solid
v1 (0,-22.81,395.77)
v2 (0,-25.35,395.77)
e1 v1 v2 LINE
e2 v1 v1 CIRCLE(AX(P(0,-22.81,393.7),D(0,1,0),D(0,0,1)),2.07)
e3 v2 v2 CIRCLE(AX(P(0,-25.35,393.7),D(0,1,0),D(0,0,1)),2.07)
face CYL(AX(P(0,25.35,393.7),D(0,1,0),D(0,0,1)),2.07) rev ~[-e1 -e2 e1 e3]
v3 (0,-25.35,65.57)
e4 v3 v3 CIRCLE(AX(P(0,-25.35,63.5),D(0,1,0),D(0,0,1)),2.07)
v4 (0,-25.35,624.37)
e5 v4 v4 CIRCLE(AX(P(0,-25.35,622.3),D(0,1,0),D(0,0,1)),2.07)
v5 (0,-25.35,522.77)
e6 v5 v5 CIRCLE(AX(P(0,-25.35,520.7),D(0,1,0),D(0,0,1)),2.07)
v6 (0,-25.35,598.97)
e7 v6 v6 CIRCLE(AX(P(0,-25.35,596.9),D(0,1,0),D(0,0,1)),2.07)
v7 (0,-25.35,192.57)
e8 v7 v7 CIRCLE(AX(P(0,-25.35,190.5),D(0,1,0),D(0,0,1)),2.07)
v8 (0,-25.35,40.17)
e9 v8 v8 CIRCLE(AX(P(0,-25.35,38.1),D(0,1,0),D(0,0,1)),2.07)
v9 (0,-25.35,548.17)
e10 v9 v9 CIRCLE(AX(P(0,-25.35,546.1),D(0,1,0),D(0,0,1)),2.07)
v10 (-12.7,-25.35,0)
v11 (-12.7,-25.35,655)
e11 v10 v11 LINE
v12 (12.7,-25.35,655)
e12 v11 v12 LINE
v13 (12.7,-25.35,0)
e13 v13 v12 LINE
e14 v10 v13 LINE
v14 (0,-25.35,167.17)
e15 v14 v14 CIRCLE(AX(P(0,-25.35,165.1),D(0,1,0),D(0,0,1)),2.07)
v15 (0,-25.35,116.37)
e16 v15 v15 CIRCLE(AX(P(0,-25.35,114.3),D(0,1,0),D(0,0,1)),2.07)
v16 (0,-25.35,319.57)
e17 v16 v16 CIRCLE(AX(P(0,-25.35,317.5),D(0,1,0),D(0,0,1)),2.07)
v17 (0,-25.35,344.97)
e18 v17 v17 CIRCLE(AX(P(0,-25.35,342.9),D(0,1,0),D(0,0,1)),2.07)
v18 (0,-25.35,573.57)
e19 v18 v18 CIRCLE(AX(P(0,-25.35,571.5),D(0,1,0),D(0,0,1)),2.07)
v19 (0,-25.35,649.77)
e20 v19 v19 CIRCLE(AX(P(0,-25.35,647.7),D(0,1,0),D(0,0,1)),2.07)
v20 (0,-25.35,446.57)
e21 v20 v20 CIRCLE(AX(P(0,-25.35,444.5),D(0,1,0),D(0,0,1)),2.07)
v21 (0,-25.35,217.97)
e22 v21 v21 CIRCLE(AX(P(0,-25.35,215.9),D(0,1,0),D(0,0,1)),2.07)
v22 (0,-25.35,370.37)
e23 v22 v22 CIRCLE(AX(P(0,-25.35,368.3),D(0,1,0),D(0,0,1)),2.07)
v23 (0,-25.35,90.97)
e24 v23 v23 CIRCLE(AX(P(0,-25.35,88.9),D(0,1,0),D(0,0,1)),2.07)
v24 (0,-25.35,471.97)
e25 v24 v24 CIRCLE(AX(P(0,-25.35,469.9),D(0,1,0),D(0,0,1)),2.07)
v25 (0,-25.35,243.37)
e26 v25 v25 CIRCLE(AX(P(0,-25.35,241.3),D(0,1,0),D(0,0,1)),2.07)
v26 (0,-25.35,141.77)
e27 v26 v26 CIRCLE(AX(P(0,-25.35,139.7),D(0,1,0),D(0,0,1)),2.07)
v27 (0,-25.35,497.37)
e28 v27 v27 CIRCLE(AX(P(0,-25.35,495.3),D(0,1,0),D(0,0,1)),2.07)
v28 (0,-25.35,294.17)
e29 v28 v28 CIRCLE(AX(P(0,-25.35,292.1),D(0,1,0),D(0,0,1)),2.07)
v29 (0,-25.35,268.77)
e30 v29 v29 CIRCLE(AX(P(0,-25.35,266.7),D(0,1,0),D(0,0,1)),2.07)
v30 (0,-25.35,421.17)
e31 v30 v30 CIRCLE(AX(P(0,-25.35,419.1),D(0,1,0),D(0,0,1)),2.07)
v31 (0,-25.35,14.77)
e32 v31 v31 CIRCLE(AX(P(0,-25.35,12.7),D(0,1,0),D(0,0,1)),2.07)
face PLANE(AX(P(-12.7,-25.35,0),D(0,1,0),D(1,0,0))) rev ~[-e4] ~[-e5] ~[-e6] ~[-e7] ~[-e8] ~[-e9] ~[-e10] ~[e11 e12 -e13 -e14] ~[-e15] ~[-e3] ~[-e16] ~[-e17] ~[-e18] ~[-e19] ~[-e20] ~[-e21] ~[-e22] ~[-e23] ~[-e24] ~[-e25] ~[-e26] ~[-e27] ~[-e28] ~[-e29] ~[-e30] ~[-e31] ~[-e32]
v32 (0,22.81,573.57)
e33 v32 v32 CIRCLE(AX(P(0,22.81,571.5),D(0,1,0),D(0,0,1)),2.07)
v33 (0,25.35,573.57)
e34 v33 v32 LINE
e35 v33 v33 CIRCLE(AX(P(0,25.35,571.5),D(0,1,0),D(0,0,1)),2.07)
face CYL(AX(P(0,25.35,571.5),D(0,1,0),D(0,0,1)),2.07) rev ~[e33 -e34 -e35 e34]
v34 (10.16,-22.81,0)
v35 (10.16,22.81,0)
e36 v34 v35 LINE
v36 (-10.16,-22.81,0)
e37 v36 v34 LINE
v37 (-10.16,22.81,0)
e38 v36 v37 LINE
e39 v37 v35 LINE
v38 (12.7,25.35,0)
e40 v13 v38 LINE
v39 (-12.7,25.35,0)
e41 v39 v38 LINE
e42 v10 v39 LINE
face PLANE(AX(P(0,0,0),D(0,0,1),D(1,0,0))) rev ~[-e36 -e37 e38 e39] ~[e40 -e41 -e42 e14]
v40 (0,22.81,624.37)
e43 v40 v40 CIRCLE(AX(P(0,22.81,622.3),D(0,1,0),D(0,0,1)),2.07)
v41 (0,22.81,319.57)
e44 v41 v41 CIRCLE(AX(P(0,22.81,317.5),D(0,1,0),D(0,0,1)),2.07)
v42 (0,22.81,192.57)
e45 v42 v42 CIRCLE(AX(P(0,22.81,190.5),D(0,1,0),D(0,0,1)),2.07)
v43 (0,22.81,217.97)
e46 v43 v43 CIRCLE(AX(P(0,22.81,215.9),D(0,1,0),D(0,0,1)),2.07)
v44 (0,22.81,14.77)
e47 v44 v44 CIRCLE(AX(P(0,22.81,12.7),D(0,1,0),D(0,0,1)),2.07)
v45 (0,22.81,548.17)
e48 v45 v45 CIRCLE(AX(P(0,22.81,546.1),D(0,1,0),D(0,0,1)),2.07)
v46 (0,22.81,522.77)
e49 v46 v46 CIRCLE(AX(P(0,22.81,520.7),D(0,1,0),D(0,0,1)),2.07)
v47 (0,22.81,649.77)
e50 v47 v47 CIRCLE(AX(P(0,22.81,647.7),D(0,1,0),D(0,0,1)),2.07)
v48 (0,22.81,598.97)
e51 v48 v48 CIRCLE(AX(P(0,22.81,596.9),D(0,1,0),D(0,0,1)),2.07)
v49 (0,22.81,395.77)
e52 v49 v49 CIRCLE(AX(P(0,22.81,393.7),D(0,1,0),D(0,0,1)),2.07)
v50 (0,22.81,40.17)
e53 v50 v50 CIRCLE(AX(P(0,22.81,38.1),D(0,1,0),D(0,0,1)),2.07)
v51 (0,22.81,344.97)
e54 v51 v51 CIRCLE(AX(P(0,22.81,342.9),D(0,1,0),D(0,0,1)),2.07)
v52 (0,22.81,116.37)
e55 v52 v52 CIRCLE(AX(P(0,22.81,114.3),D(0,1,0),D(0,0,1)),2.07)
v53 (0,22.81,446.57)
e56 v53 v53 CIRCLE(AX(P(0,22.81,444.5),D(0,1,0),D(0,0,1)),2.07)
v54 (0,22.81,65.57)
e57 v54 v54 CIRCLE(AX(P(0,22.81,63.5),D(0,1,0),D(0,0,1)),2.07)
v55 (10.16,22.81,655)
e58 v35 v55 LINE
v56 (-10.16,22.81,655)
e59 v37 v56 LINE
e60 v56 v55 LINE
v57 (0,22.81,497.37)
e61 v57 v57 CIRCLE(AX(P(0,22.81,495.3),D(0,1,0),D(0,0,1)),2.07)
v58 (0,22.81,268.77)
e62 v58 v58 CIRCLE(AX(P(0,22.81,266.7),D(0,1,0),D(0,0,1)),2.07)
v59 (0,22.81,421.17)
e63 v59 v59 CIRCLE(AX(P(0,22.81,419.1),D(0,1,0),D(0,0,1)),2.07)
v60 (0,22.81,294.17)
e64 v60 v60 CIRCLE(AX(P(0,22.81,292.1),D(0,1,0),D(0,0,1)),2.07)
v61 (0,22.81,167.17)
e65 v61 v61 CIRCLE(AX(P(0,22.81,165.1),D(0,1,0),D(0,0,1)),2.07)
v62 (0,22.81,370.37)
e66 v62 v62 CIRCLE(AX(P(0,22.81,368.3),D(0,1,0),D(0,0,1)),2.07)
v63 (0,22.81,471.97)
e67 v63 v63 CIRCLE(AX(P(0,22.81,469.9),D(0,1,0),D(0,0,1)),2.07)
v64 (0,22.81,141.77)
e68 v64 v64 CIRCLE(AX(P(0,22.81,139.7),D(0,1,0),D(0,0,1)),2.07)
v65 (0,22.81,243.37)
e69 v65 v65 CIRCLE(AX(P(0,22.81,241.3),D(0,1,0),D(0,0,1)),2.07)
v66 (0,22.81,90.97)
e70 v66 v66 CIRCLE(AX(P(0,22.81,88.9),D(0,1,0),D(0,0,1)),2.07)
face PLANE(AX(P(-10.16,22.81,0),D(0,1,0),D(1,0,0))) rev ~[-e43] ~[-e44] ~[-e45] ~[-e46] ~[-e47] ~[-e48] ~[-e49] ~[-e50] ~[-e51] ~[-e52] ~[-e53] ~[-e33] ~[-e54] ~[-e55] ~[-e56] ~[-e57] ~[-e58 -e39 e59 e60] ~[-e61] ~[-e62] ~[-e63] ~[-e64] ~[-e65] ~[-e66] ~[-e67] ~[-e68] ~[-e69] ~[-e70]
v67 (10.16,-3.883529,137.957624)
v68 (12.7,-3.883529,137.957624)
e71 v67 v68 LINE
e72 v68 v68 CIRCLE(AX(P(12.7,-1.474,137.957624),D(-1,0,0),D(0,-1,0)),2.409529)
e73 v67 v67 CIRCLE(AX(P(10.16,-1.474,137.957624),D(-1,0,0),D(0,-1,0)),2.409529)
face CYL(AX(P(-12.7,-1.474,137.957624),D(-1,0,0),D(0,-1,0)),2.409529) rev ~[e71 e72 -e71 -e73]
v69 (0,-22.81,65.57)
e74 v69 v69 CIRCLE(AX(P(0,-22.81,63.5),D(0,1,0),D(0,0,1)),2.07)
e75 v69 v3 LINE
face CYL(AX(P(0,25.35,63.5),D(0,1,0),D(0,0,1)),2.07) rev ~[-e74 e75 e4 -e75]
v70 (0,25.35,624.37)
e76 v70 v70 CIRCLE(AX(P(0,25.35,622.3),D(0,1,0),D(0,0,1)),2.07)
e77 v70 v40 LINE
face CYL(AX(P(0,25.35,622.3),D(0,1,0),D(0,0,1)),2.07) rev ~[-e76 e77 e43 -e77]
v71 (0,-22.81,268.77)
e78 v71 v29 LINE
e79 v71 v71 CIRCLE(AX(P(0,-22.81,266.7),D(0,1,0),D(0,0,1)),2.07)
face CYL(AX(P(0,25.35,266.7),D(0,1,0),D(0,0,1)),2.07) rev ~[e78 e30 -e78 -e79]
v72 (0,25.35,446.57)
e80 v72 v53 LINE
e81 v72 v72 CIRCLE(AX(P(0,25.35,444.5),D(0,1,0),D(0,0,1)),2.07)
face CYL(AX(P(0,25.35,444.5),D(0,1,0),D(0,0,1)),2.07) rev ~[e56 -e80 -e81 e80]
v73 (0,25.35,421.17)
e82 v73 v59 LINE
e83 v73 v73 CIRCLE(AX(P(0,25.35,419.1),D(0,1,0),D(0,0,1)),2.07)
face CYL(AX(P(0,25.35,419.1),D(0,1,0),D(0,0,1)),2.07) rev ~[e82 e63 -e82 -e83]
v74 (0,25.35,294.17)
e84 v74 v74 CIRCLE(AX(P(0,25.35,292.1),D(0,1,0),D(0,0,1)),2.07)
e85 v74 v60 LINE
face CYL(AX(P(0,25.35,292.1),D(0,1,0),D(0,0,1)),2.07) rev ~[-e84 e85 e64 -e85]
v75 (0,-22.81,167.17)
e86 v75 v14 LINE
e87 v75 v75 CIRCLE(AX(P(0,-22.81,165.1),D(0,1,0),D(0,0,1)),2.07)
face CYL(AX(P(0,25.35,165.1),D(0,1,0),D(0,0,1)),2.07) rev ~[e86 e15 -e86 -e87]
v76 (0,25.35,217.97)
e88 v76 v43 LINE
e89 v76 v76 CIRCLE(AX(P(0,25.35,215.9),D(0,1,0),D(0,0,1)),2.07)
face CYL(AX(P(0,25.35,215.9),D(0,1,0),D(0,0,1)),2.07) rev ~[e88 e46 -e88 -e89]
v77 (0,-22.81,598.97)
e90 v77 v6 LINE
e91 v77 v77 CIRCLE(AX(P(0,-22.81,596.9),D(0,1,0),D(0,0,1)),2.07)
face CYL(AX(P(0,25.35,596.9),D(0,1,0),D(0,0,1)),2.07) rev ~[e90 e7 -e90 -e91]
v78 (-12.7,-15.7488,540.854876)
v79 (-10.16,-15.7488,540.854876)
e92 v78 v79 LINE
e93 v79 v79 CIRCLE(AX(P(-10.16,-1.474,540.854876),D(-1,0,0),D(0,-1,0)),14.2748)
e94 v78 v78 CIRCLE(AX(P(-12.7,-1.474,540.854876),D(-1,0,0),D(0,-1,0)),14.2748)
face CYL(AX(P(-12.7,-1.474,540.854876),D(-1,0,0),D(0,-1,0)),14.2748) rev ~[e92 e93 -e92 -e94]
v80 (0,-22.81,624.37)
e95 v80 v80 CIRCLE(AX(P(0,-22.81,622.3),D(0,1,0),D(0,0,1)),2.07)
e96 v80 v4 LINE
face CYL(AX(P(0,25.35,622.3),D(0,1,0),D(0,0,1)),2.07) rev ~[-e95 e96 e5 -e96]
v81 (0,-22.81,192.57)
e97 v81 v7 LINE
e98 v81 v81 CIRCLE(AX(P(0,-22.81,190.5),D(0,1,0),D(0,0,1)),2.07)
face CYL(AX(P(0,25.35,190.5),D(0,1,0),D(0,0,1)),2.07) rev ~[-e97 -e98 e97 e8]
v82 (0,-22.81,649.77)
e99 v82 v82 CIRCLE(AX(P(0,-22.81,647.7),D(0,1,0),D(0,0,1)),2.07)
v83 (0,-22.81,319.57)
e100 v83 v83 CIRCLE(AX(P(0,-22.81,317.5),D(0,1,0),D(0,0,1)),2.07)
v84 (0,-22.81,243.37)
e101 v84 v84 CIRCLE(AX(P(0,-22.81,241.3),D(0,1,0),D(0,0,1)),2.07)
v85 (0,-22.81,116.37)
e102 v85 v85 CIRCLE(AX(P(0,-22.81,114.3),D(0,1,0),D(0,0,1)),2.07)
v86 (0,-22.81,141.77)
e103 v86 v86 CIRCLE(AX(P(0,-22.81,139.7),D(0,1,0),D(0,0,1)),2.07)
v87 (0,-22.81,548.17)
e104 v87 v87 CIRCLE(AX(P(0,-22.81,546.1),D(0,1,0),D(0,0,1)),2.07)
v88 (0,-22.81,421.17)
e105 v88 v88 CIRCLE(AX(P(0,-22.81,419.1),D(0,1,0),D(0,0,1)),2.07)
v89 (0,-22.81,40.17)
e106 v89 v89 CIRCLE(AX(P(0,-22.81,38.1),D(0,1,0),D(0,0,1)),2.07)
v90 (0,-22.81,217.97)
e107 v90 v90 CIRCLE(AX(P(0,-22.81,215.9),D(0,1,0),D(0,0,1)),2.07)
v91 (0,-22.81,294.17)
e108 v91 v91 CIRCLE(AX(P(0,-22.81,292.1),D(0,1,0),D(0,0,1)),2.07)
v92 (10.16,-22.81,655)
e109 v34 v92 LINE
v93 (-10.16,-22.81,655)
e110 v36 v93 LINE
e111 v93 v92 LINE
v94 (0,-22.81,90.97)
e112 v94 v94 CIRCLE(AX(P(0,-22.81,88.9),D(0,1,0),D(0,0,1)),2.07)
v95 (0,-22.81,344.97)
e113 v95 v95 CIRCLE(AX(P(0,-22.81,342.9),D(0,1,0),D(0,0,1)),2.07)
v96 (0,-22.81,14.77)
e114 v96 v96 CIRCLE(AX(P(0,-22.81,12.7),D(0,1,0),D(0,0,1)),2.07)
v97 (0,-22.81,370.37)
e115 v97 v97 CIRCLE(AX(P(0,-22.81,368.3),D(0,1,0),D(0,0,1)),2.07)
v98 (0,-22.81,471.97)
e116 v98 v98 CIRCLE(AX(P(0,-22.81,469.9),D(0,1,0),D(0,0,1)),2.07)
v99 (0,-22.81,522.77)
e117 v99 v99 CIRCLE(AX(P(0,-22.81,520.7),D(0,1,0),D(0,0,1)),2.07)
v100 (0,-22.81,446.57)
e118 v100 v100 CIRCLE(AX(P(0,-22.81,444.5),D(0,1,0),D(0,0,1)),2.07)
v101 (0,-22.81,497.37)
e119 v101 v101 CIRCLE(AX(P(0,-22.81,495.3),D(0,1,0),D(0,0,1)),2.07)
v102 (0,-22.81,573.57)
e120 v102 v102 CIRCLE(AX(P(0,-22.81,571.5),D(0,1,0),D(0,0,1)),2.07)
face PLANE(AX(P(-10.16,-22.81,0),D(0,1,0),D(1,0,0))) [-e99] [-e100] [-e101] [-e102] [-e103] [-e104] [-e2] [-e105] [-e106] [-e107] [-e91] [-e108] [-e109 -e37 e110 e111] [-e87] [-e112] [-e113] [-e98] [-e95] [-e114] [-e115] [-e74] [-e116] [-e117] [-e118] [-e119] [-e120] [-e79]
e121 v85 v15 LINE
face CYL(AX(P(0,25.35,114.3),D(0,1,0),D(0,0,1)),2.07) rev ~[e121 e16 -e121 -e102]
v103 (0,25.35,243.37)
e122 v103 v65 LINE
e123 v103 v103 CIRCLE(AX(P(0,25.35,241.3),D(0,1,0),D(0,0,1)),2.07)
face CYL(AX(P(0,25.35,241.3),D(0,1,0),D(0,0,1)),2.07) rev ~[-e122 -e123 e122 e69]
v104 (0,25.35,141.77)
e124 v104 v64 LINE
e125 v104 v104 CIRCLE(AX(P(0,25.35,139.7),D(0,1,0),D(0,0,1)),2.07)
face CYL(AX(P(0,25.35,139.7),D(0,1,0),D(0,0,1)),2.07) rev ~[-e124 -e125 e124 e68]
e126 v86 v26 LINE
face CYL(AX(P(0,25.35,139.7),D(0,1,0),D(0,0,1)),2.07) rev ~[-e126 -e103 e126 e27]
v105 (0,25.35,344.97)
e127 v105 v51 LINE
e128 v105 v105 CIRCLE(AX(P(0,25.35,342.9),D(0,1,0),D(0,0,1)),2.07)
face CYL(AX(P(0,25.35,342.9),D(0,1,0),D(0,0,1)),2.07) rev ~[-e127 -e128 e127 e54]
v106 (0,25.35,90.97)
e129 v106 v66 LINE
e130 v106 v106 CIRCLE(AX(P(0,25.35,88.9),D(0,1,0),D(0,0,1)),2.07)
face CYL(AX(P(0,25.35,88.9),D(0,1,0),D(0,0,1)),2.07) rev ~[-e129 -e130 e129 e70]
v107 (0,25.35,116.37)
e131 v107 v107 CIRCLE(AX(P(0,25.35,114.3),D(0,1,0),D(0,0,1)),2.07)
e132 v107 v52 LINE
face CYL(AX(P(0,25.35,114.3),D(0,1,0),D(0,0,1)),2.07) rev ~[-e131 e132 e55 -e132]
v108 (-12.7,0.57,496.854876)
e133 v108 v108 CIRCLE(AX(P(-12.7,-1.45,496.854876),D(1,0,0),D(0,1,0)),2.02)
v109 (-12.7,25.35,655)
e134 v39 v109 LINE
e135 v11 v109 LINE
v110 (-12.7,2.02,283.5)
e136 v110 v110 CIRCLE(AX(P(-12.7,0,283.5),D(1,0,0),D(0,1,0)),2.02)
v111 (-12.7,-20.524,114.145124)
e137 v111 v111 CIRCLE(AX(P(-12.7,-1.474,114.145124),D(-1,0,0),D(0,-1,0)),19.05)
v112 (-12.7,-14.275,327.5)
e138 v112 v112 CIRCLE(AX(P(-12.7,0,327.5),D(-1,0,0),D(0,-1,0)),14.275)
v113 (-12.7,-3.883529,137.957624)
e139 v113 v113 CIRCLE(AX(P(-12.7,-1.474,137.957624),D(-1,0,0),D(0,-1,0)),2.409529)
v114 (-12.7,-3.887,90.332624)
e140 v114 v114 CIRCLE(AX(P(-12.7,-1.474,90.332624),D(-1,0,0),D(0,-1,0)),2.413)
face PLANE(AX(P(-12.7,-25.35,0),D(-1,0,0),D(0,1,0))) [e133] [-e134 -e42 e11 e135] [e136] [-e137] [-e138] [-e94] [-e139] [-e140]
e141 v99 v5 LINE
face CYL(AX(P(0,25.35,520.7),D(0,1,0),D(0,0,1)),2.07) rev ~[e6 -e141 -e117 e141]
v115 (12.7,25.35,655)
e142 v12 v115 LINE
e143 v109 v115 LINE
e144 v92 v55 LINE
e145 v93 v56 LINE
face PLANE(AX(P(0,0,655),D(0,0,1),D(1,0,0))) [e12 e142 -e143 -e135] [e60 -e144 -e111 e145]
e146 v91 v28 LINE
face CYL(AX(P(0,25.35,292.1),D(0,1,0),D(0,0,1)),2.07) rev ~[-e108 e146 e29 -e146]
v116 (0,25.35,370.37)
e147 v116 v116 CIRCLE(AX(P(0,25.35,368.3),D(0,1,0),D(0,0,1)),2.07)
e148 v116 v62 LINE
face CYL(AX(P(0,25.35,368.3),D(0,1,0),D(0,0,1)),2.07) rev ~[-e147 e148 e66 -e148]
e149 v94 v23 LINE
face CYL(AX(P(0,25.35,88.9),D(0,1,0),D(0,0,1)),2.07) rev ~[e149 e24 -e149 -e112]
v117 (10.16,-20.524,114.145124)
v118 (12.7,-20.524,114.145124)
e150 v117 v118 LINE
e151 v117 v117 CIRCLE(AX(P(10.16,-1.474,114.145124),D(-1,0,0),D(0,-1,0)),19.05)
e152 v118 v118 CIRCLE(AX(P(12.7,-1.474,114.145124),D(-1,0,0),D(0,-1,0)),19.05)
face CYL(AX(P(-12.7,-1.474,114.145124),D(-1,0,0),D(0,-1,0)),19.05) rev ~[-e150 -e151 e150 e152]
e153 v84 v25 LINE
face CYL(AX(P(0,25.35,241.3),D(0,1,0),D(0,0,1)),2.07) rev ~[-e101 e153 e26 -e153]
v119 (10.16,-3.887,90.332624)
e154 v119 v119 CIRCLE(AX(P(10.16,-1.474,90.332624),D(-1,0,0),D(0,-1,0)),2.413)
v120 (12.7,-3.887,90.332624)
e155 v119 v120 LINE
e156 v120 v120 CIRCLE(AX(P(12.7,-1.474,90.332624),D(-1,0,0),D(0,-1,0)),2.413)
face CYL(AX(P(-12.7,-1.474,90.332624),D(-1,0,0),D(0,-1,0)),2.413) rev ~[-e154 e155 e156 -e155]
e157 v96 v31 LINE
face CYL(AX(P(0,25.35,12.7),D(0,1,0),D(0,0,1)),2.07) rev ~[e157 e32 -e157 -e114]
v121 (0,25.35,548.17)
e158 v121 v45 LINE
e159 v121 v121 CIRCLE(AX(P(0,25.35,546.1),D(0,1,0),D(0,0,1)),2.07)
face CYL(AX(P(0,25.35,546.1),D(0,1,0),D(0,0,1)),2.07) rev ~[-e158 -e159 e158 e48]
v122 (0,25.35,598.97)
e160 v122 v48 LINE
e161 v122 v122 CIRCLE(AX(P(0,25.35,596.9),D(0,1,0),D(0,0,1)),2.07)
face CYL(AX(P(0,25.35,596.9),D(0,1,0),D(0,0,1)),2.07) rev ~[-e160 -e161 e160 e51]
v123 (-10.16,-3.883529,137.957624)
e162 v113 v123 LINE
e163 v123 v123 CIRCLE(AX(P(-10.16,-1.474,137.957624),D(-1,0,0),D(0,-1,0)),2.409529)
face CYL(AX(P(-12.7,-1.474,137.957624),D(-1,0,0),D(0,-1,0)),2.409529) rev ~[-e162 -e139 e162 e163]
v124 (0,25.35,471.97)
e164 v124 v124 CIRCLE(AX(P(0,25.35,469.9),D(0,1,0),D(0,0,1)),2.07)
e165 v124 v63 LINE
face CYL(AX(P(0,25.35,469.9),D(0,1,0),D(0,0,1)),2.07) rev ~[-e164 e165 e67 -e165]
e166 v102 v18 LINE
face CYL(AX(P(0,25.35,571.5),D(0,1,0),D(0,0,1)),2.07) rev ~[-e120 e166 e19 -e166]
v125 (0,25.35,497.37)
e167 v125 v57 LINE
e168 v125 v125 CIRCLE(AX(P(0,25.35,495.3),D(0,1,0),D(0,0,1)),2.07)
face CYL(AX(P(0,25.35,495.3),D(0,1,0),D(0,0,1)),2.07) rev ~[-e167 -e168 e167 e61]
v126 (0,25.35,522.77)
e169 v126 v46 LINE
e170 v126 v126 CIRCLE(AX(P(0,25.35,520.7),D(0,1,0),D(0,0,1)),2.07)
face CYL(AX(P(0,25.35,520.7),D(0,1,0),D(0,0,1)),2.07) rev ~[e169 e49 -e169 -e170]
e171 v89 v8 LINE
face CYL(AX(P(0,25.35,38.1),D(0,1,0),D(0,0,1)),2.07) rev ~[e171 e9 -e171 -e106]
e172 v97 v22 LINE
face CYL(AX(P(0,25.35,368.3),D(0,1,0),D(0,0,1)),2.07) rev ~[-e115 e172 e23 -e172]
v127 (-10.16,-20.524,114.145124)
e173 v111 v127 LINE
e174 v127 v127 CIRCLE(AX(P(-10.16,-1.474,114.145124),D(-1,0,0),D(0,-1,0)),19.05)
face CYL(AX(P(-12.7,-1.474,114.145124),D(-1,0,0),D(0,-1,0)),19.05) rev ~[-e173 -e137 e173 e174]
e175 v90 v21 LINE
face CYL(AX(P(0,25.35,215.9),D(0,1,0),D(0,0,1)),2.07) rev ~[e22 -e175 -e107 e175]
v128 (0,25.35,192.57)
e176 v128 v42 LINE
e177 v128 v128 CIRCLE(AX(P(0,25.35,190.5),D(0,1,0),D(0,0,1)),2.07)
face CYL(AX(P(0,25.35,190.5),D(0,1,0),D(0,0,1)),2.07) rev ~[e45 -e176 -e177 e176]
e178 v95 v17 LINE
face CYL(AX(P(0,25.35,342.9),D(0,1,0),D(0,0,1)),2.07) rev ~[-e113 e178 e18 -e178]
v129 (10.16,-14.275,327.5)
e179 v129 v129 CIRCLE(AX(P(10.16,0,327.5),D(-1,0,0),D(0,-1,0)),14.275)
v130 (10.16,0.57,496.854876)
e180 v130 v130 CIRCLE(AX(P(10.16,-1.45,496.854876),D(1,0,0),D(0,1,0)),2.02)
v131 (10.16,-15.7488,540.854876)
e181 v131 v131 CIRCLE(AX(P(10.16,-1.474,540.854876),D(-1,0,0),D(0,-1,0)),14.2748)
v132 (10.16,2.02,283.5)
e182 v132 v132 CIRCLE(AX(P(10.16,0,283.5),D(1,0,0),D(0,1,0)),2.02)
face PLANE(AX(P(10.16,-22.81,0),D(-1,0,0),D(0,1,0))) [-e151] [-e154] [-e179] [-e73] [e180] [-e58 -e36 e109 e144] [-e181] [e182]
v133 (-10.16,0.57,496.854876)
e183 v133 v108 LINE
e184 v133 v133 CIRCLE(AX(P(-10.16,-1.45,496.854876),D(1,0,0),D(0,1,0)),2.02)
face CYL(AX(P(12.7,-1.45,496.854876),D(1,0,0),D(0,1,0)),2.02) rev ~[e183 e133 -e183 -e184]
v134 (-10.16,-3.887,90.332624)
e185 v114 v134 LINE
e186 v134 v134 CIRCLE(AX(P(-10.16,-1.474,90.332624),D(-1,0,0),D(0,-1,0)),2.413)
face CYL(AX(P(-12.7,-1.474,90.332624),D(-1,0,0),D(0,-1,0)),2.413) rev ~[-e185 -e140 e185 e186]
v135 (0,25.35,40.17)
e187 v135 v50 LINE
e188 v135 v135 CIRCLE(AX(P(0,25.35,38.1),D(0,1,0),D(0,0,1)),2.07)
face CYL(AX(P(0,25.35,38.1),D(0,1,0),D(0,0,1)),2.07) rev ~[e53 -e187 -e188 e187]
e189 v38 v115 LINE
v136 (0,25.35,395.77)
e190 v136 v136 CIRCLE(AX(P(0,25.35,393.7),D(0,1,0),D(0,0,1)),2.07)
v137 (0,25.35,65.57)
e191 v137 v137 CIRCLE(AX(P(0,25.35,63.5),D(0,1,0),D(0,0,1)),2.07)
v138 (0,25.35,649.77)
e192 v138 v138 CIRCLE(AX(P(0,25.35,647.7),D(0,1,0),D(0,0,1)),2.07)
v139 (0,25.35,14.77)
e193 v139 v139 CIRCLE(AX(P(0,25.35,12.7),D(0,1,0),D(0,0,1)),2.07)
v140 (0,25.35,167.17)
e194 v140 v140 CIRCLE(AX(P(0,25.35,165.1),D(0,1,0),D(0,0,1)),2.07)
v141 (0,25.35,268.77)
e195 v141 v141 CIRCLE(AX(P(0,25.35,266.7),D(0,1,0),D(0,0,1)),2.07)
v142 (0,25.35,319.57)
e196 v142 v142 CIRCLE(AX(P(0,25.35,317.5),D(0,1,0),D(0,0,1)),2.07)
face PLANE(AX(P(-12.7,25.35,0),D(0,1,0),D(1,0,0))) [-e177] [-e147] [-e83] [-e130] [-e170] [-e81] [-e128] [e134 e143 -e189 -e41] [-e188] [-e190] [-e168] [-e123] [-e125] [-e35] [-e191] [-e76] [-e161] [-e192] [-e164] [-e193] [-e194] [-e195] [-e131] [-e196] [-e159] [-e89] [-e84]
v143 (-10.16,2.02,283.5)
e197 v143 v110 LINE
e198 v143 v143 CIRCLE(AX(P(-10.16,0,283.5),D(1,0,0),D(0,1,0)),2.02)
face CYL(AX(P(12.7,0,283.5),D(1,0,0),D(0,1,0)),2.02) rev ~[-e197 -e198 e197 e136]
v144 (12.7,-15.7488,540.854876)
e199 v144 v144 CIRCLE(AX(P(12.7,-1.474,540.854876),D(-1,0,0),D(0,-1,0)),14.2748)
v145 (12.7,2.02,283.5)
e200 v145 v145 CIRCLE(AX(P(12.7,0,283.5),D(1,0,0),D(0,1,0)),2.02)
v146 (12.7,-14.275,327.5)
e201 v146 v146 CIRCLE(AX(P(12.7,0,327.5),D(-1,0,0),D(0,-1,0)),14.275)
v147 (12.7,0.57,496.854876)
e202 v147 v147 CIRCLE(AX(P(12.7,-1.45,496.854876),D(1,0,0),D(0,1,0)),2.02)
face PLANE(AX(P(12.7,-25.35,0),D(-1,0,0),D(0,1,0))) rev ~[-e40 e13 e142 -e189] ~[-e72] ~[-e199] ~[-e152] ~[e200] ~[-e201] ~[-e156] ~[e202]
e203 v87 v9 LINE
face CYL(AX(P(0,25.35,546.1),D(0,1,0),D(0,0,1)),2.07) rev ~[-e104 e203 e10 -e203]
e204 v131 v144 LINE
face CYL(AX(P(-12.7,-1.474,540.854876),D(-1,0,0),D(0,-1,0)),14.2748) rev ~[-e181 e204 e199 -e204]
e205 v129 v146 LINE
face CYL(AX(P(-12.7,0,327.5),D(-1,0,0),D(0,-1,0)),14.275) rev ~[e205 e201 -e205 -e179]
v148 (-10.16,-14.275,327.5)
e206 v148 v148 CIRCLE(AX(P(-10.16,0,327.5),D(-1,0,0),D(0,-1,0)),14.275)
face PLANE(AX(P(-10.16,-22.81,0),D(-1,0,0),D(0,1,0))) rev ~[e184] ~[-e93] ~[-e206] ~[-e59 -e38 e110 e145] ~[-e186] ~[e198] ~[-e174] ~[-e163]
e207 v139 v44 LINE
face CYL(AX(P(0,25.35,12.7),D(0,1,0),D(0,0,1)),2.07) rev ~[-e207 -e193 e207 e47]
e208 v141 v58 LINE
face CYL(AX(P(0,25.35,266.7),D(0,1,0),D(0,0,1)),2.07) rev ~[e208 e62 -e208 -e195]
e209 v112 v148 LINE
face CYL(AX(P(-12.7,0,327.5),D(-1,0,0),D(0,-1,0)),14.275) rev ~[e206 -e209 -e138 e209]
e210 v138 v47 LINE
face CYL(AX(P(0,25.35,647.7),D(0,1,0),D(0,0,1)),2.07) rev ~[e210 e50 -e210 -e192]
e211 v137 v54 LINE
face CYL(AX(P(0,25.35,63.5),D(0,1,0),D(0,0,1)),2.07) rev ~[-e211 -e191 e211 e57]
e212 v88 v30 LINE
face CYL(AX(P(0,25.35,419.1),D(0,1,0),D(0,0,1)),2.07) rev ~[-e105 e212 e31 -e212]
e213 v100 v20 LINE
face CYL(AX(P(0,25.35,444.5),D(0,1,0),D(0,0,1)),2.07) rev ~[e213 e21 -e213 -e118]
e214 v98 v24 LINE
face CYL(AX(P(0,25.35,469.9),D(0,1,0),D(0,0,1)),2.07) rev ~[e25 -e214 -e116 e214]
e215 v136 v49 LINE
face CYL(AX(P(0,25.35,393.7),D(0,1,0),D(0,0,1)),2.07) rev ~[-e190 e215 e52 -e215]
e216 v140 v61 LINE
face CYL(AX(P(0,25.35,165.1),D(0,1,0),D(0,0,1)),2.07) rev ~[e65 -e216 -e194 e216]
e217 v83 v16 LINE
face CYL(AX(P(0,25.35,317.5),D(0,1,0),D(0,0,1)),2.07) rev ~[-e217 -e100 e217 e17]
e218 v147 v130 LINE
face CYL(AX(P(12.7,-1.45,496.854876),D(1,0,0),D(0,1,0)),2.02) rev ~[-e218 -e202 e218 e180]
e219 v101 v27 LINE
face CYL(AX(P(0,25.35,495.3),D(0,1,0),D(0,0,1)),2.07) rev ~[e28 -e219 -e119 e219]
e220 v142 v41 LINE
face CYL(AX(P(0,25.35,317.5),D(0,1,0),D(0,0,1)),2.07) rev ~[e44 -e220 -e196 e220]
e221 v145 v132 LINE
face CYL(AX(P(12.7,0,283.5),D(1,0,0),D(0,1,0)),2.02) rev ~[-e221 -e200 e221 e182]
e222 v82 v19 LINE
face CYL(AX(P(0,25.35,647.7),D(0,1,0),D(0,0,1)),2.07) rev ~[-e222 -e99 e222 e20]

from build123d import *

# Parameters (mm, degrees)
CROQUIS1_W              = 25.4
CROQUIS1_H              = 50.7
CROQUIS1_W_2            = 20.32
CROQUIS1_H_2            = 45.62
SALIENTE_EXTRUIR1_DEPTH = 655
CROQUIS2_R              = 2.07
CORTAR_EXTRUIR1_DEPTH   = 658.082019234
CROQUIS3_R              = 14.275
CORTAR_EXTRUIR2_DEPTH   = 700
CROQUIS8_R              = 19.05
CROQUIS8_R_2            = 14.2748
CORTAR_EXTRUIR5_DEPTH   = 700
CROQUIS10_R             = 2.02
CORTAR_EXTRUIR7_DEPTH   = 656.982303496
CROQUIS12_R             = 2.02
CORTAR_EXTRUIR8_DEPTH   = 656.982303496
CROQUIS15_R             = 2.409528967
CROQUIS15_R_2           = 2.413
CORTAR_EXTRUIR10_DEPTH  = 656.982303496


with BuildPart() as part:
    # Croquis1 → Saliente-Extruir1 (new body)
    with BuildSketch(Plane.XY):
        Rectangle(CROQUIS1_W, CROQUIS1_H)
        Rectangle(CROQUIS1_W_2, CROQUIS1_H_2, mode=Mode.SUBTRACT)
    extrude(amount=SALIENTE_EXTRUIR1_DEPTH)

    # Croquis2 → Cortar-Extruir1 (cut, through all)
    with BuildSketch(Plane(origin=(0, 25.35, 0), x_dir=(1, 0, 0), z_dir=(0, 1, 0))):
        with Locations(Location((0, -12.7, 0), (0, 0, 270))):
            Circle(CROQUIS2_R)
        with Locations(Location((0, -38.1, 0), (0, 0, 270))):
            Circle(CROQUIS2_R)
        with Locations(Location((0, -63.5, 0), (0, 0, 270))):
            Circle(CROQUIS2_R)
        with Locations(Location((0, -88.9, 0), (0, 0, 270))):
            Circle(CROQUIS2_R)
        with Locations(Location((0, -114.3, 0), (0, 0, 270))):
            Circle(CROQUIS2_R)
        with Locations(Location((0, -139.7, 0), (0, 0, 270))):
            Circle(CROQUIS2_R)
        with Locations(Location((0, -165.1, 0), (0, 0, 270))):
            Circle(CROQUIS2_R)
        with Locations(Location((0, -190.5, 0), (0, 0, 270))):
            Circle(CROQUIS2_R)
        with Locations(Location((0, -215.9, 0), (0, 0, 270))):
            Circle(CROQUIS2_R)
        with Locations(Location((0, -241.3, 0), (0, 0, 270))):
            Circle(CROQUIS2_R)
        with Locations(Location((0, -266.7, 0), (0, 0, 270))):
            Circle(CROQUIS2_R)
        with Locations(Location((0, -292.1, 0), (0, 0, 270))):
            Circle(CROQUIS2_R)
        with Locations(Location((0, -317.5, 0), (0, 0, 270))):
            Circle(CROQUIS2_R)
        with Locations(Location((0, -342.9, 0), (0, 0, 270))):
            Circle(CROQUIS2_R)
        with Locations(Location((0, -368.3, 0), (0, 0, 270))):
            Circle(CROQUIS2_R)
        with Locations(Location((0, -393.7, 0), (0, 0, 270))):
            Circle(CROQUIS2_R)
        with Locations(Location((0, -419.1, 0), (0, 0, 270))):
            Circle(CROQUIS2_R)
        with Locations(Location((0, -444.5, 0), (0, 0, 270))):
            Circle(CROQUIS2_R)
        with Locations(Location((0, -469.9, 0), (0, 0, 270))):
            Circle(CROQUIS2_R)
        with Locations(Location((0, -495.3, 0), (0, 0, 270))):
            Circle(CROQUIS2_R)
        with Locations(Location((0, -520.7, 0), (0, 0, 270))):
            Circle(CROQUIS2_R)
        with Locations(Location((0, -546.1, 0), (0, 0, 270))):
            Circle(CROQUIS2_R)
        with Locations(Location((0, -571.5, 0), (0, 0, 270))):
            Circle(CROQUIS2_R)
        with Locations(Location((0, -596.9, 0), (0, 0, 270))):
            Circle(CROQUIS2_R)
        with Locations(Location((0, -622.3, 0), (0, 0, 270))):
            Circle(CROQUIS2_R)
        with Locations(Location((0, -647.7, 0), (0, 0, 270))):
            Circle(CROQUIS2_R)
    extrude(amount=-CORTAR_EXTRUIR1_DEPTH, mode=Mode.SUBTRACT)

    # Croquis3 → Cortar-Extruir2 (cut)
    with BuildSketch(Plane.ZY.offset(12.7)):
        with Locations(Location((327.5, 0, 0), (0, 0, 270))):
            Circle(CROQUIS3_R)
    extrude(amount=-CORTAR_EXTRUIR2_DEPTH, mode=Mode.SUBTRACT)

    # Croquis8 → Cortar-Extruir5 (cut)
    with BuildSketch(Plane.ZY.offset(12.7)):
        with Locations(Location((114.145124111, -1.474, 0), (0, 0, 270))):
            Circle(CROQUIS8_R)
        with Locations(Location((540.854875889, -1.474, 0), (0, 0, 270))):
            Circle(CROQUIS8_R_2)
    extrude(amount=-CORTAR_EXTRUIR5_DEPTH, mode=Mode.SUBTRACT)

    # Croquis10 → Cortar-Extruir7 (cut, through all)
    with BuildSketch(Plane(origin=(12.7, 0, 0), x_dir=(0, 0, -1), z_dir=(1, 0, 0))):
        with Locations(Location((-496.854875889, -1.45, 0), (0, 0, 90))):
            Circle(CROQUIS10_R)
    extrude(amount=-CORTAR_EXTRUIR7_DEPTH, mode=Mode.SUBTRACT)

    # Croquis12 → Cortar-Extruir8 (cut, through all)
    with BuildSketch(Plane(origin=(12.7, 0, 0), x_dir=(0, 0, -1), z_dir=(1, 0, 0))):
        with Locations(Location((-283.5, 0, 0), (0, 0, 90))):
            Circle(CROQUIS12_R)
    extrude(amount=-CORTAR_EXTRUIR8_DEPTH, mode=Mode.SUBTRACT)

    # Croquis15 → Cortar-Extruir10 (cut, through all)
    with BuildSketch(Plane.ZY.offset(12.7)):
        with Locations(Location((137.957624111, -1.474, 0), (0, 0, 270))):
            Circle(CROQUIS15_R)
        with Locations(Location((90.332624111, -1.474, 0), (0, 0, 270))):
            Circle(CROQUIS15_R_2)
    extrude(amount=-CORTAR_EXTRUIR10_DEPTH, mode=Mode.SUBTRACT)


solid = part.part
